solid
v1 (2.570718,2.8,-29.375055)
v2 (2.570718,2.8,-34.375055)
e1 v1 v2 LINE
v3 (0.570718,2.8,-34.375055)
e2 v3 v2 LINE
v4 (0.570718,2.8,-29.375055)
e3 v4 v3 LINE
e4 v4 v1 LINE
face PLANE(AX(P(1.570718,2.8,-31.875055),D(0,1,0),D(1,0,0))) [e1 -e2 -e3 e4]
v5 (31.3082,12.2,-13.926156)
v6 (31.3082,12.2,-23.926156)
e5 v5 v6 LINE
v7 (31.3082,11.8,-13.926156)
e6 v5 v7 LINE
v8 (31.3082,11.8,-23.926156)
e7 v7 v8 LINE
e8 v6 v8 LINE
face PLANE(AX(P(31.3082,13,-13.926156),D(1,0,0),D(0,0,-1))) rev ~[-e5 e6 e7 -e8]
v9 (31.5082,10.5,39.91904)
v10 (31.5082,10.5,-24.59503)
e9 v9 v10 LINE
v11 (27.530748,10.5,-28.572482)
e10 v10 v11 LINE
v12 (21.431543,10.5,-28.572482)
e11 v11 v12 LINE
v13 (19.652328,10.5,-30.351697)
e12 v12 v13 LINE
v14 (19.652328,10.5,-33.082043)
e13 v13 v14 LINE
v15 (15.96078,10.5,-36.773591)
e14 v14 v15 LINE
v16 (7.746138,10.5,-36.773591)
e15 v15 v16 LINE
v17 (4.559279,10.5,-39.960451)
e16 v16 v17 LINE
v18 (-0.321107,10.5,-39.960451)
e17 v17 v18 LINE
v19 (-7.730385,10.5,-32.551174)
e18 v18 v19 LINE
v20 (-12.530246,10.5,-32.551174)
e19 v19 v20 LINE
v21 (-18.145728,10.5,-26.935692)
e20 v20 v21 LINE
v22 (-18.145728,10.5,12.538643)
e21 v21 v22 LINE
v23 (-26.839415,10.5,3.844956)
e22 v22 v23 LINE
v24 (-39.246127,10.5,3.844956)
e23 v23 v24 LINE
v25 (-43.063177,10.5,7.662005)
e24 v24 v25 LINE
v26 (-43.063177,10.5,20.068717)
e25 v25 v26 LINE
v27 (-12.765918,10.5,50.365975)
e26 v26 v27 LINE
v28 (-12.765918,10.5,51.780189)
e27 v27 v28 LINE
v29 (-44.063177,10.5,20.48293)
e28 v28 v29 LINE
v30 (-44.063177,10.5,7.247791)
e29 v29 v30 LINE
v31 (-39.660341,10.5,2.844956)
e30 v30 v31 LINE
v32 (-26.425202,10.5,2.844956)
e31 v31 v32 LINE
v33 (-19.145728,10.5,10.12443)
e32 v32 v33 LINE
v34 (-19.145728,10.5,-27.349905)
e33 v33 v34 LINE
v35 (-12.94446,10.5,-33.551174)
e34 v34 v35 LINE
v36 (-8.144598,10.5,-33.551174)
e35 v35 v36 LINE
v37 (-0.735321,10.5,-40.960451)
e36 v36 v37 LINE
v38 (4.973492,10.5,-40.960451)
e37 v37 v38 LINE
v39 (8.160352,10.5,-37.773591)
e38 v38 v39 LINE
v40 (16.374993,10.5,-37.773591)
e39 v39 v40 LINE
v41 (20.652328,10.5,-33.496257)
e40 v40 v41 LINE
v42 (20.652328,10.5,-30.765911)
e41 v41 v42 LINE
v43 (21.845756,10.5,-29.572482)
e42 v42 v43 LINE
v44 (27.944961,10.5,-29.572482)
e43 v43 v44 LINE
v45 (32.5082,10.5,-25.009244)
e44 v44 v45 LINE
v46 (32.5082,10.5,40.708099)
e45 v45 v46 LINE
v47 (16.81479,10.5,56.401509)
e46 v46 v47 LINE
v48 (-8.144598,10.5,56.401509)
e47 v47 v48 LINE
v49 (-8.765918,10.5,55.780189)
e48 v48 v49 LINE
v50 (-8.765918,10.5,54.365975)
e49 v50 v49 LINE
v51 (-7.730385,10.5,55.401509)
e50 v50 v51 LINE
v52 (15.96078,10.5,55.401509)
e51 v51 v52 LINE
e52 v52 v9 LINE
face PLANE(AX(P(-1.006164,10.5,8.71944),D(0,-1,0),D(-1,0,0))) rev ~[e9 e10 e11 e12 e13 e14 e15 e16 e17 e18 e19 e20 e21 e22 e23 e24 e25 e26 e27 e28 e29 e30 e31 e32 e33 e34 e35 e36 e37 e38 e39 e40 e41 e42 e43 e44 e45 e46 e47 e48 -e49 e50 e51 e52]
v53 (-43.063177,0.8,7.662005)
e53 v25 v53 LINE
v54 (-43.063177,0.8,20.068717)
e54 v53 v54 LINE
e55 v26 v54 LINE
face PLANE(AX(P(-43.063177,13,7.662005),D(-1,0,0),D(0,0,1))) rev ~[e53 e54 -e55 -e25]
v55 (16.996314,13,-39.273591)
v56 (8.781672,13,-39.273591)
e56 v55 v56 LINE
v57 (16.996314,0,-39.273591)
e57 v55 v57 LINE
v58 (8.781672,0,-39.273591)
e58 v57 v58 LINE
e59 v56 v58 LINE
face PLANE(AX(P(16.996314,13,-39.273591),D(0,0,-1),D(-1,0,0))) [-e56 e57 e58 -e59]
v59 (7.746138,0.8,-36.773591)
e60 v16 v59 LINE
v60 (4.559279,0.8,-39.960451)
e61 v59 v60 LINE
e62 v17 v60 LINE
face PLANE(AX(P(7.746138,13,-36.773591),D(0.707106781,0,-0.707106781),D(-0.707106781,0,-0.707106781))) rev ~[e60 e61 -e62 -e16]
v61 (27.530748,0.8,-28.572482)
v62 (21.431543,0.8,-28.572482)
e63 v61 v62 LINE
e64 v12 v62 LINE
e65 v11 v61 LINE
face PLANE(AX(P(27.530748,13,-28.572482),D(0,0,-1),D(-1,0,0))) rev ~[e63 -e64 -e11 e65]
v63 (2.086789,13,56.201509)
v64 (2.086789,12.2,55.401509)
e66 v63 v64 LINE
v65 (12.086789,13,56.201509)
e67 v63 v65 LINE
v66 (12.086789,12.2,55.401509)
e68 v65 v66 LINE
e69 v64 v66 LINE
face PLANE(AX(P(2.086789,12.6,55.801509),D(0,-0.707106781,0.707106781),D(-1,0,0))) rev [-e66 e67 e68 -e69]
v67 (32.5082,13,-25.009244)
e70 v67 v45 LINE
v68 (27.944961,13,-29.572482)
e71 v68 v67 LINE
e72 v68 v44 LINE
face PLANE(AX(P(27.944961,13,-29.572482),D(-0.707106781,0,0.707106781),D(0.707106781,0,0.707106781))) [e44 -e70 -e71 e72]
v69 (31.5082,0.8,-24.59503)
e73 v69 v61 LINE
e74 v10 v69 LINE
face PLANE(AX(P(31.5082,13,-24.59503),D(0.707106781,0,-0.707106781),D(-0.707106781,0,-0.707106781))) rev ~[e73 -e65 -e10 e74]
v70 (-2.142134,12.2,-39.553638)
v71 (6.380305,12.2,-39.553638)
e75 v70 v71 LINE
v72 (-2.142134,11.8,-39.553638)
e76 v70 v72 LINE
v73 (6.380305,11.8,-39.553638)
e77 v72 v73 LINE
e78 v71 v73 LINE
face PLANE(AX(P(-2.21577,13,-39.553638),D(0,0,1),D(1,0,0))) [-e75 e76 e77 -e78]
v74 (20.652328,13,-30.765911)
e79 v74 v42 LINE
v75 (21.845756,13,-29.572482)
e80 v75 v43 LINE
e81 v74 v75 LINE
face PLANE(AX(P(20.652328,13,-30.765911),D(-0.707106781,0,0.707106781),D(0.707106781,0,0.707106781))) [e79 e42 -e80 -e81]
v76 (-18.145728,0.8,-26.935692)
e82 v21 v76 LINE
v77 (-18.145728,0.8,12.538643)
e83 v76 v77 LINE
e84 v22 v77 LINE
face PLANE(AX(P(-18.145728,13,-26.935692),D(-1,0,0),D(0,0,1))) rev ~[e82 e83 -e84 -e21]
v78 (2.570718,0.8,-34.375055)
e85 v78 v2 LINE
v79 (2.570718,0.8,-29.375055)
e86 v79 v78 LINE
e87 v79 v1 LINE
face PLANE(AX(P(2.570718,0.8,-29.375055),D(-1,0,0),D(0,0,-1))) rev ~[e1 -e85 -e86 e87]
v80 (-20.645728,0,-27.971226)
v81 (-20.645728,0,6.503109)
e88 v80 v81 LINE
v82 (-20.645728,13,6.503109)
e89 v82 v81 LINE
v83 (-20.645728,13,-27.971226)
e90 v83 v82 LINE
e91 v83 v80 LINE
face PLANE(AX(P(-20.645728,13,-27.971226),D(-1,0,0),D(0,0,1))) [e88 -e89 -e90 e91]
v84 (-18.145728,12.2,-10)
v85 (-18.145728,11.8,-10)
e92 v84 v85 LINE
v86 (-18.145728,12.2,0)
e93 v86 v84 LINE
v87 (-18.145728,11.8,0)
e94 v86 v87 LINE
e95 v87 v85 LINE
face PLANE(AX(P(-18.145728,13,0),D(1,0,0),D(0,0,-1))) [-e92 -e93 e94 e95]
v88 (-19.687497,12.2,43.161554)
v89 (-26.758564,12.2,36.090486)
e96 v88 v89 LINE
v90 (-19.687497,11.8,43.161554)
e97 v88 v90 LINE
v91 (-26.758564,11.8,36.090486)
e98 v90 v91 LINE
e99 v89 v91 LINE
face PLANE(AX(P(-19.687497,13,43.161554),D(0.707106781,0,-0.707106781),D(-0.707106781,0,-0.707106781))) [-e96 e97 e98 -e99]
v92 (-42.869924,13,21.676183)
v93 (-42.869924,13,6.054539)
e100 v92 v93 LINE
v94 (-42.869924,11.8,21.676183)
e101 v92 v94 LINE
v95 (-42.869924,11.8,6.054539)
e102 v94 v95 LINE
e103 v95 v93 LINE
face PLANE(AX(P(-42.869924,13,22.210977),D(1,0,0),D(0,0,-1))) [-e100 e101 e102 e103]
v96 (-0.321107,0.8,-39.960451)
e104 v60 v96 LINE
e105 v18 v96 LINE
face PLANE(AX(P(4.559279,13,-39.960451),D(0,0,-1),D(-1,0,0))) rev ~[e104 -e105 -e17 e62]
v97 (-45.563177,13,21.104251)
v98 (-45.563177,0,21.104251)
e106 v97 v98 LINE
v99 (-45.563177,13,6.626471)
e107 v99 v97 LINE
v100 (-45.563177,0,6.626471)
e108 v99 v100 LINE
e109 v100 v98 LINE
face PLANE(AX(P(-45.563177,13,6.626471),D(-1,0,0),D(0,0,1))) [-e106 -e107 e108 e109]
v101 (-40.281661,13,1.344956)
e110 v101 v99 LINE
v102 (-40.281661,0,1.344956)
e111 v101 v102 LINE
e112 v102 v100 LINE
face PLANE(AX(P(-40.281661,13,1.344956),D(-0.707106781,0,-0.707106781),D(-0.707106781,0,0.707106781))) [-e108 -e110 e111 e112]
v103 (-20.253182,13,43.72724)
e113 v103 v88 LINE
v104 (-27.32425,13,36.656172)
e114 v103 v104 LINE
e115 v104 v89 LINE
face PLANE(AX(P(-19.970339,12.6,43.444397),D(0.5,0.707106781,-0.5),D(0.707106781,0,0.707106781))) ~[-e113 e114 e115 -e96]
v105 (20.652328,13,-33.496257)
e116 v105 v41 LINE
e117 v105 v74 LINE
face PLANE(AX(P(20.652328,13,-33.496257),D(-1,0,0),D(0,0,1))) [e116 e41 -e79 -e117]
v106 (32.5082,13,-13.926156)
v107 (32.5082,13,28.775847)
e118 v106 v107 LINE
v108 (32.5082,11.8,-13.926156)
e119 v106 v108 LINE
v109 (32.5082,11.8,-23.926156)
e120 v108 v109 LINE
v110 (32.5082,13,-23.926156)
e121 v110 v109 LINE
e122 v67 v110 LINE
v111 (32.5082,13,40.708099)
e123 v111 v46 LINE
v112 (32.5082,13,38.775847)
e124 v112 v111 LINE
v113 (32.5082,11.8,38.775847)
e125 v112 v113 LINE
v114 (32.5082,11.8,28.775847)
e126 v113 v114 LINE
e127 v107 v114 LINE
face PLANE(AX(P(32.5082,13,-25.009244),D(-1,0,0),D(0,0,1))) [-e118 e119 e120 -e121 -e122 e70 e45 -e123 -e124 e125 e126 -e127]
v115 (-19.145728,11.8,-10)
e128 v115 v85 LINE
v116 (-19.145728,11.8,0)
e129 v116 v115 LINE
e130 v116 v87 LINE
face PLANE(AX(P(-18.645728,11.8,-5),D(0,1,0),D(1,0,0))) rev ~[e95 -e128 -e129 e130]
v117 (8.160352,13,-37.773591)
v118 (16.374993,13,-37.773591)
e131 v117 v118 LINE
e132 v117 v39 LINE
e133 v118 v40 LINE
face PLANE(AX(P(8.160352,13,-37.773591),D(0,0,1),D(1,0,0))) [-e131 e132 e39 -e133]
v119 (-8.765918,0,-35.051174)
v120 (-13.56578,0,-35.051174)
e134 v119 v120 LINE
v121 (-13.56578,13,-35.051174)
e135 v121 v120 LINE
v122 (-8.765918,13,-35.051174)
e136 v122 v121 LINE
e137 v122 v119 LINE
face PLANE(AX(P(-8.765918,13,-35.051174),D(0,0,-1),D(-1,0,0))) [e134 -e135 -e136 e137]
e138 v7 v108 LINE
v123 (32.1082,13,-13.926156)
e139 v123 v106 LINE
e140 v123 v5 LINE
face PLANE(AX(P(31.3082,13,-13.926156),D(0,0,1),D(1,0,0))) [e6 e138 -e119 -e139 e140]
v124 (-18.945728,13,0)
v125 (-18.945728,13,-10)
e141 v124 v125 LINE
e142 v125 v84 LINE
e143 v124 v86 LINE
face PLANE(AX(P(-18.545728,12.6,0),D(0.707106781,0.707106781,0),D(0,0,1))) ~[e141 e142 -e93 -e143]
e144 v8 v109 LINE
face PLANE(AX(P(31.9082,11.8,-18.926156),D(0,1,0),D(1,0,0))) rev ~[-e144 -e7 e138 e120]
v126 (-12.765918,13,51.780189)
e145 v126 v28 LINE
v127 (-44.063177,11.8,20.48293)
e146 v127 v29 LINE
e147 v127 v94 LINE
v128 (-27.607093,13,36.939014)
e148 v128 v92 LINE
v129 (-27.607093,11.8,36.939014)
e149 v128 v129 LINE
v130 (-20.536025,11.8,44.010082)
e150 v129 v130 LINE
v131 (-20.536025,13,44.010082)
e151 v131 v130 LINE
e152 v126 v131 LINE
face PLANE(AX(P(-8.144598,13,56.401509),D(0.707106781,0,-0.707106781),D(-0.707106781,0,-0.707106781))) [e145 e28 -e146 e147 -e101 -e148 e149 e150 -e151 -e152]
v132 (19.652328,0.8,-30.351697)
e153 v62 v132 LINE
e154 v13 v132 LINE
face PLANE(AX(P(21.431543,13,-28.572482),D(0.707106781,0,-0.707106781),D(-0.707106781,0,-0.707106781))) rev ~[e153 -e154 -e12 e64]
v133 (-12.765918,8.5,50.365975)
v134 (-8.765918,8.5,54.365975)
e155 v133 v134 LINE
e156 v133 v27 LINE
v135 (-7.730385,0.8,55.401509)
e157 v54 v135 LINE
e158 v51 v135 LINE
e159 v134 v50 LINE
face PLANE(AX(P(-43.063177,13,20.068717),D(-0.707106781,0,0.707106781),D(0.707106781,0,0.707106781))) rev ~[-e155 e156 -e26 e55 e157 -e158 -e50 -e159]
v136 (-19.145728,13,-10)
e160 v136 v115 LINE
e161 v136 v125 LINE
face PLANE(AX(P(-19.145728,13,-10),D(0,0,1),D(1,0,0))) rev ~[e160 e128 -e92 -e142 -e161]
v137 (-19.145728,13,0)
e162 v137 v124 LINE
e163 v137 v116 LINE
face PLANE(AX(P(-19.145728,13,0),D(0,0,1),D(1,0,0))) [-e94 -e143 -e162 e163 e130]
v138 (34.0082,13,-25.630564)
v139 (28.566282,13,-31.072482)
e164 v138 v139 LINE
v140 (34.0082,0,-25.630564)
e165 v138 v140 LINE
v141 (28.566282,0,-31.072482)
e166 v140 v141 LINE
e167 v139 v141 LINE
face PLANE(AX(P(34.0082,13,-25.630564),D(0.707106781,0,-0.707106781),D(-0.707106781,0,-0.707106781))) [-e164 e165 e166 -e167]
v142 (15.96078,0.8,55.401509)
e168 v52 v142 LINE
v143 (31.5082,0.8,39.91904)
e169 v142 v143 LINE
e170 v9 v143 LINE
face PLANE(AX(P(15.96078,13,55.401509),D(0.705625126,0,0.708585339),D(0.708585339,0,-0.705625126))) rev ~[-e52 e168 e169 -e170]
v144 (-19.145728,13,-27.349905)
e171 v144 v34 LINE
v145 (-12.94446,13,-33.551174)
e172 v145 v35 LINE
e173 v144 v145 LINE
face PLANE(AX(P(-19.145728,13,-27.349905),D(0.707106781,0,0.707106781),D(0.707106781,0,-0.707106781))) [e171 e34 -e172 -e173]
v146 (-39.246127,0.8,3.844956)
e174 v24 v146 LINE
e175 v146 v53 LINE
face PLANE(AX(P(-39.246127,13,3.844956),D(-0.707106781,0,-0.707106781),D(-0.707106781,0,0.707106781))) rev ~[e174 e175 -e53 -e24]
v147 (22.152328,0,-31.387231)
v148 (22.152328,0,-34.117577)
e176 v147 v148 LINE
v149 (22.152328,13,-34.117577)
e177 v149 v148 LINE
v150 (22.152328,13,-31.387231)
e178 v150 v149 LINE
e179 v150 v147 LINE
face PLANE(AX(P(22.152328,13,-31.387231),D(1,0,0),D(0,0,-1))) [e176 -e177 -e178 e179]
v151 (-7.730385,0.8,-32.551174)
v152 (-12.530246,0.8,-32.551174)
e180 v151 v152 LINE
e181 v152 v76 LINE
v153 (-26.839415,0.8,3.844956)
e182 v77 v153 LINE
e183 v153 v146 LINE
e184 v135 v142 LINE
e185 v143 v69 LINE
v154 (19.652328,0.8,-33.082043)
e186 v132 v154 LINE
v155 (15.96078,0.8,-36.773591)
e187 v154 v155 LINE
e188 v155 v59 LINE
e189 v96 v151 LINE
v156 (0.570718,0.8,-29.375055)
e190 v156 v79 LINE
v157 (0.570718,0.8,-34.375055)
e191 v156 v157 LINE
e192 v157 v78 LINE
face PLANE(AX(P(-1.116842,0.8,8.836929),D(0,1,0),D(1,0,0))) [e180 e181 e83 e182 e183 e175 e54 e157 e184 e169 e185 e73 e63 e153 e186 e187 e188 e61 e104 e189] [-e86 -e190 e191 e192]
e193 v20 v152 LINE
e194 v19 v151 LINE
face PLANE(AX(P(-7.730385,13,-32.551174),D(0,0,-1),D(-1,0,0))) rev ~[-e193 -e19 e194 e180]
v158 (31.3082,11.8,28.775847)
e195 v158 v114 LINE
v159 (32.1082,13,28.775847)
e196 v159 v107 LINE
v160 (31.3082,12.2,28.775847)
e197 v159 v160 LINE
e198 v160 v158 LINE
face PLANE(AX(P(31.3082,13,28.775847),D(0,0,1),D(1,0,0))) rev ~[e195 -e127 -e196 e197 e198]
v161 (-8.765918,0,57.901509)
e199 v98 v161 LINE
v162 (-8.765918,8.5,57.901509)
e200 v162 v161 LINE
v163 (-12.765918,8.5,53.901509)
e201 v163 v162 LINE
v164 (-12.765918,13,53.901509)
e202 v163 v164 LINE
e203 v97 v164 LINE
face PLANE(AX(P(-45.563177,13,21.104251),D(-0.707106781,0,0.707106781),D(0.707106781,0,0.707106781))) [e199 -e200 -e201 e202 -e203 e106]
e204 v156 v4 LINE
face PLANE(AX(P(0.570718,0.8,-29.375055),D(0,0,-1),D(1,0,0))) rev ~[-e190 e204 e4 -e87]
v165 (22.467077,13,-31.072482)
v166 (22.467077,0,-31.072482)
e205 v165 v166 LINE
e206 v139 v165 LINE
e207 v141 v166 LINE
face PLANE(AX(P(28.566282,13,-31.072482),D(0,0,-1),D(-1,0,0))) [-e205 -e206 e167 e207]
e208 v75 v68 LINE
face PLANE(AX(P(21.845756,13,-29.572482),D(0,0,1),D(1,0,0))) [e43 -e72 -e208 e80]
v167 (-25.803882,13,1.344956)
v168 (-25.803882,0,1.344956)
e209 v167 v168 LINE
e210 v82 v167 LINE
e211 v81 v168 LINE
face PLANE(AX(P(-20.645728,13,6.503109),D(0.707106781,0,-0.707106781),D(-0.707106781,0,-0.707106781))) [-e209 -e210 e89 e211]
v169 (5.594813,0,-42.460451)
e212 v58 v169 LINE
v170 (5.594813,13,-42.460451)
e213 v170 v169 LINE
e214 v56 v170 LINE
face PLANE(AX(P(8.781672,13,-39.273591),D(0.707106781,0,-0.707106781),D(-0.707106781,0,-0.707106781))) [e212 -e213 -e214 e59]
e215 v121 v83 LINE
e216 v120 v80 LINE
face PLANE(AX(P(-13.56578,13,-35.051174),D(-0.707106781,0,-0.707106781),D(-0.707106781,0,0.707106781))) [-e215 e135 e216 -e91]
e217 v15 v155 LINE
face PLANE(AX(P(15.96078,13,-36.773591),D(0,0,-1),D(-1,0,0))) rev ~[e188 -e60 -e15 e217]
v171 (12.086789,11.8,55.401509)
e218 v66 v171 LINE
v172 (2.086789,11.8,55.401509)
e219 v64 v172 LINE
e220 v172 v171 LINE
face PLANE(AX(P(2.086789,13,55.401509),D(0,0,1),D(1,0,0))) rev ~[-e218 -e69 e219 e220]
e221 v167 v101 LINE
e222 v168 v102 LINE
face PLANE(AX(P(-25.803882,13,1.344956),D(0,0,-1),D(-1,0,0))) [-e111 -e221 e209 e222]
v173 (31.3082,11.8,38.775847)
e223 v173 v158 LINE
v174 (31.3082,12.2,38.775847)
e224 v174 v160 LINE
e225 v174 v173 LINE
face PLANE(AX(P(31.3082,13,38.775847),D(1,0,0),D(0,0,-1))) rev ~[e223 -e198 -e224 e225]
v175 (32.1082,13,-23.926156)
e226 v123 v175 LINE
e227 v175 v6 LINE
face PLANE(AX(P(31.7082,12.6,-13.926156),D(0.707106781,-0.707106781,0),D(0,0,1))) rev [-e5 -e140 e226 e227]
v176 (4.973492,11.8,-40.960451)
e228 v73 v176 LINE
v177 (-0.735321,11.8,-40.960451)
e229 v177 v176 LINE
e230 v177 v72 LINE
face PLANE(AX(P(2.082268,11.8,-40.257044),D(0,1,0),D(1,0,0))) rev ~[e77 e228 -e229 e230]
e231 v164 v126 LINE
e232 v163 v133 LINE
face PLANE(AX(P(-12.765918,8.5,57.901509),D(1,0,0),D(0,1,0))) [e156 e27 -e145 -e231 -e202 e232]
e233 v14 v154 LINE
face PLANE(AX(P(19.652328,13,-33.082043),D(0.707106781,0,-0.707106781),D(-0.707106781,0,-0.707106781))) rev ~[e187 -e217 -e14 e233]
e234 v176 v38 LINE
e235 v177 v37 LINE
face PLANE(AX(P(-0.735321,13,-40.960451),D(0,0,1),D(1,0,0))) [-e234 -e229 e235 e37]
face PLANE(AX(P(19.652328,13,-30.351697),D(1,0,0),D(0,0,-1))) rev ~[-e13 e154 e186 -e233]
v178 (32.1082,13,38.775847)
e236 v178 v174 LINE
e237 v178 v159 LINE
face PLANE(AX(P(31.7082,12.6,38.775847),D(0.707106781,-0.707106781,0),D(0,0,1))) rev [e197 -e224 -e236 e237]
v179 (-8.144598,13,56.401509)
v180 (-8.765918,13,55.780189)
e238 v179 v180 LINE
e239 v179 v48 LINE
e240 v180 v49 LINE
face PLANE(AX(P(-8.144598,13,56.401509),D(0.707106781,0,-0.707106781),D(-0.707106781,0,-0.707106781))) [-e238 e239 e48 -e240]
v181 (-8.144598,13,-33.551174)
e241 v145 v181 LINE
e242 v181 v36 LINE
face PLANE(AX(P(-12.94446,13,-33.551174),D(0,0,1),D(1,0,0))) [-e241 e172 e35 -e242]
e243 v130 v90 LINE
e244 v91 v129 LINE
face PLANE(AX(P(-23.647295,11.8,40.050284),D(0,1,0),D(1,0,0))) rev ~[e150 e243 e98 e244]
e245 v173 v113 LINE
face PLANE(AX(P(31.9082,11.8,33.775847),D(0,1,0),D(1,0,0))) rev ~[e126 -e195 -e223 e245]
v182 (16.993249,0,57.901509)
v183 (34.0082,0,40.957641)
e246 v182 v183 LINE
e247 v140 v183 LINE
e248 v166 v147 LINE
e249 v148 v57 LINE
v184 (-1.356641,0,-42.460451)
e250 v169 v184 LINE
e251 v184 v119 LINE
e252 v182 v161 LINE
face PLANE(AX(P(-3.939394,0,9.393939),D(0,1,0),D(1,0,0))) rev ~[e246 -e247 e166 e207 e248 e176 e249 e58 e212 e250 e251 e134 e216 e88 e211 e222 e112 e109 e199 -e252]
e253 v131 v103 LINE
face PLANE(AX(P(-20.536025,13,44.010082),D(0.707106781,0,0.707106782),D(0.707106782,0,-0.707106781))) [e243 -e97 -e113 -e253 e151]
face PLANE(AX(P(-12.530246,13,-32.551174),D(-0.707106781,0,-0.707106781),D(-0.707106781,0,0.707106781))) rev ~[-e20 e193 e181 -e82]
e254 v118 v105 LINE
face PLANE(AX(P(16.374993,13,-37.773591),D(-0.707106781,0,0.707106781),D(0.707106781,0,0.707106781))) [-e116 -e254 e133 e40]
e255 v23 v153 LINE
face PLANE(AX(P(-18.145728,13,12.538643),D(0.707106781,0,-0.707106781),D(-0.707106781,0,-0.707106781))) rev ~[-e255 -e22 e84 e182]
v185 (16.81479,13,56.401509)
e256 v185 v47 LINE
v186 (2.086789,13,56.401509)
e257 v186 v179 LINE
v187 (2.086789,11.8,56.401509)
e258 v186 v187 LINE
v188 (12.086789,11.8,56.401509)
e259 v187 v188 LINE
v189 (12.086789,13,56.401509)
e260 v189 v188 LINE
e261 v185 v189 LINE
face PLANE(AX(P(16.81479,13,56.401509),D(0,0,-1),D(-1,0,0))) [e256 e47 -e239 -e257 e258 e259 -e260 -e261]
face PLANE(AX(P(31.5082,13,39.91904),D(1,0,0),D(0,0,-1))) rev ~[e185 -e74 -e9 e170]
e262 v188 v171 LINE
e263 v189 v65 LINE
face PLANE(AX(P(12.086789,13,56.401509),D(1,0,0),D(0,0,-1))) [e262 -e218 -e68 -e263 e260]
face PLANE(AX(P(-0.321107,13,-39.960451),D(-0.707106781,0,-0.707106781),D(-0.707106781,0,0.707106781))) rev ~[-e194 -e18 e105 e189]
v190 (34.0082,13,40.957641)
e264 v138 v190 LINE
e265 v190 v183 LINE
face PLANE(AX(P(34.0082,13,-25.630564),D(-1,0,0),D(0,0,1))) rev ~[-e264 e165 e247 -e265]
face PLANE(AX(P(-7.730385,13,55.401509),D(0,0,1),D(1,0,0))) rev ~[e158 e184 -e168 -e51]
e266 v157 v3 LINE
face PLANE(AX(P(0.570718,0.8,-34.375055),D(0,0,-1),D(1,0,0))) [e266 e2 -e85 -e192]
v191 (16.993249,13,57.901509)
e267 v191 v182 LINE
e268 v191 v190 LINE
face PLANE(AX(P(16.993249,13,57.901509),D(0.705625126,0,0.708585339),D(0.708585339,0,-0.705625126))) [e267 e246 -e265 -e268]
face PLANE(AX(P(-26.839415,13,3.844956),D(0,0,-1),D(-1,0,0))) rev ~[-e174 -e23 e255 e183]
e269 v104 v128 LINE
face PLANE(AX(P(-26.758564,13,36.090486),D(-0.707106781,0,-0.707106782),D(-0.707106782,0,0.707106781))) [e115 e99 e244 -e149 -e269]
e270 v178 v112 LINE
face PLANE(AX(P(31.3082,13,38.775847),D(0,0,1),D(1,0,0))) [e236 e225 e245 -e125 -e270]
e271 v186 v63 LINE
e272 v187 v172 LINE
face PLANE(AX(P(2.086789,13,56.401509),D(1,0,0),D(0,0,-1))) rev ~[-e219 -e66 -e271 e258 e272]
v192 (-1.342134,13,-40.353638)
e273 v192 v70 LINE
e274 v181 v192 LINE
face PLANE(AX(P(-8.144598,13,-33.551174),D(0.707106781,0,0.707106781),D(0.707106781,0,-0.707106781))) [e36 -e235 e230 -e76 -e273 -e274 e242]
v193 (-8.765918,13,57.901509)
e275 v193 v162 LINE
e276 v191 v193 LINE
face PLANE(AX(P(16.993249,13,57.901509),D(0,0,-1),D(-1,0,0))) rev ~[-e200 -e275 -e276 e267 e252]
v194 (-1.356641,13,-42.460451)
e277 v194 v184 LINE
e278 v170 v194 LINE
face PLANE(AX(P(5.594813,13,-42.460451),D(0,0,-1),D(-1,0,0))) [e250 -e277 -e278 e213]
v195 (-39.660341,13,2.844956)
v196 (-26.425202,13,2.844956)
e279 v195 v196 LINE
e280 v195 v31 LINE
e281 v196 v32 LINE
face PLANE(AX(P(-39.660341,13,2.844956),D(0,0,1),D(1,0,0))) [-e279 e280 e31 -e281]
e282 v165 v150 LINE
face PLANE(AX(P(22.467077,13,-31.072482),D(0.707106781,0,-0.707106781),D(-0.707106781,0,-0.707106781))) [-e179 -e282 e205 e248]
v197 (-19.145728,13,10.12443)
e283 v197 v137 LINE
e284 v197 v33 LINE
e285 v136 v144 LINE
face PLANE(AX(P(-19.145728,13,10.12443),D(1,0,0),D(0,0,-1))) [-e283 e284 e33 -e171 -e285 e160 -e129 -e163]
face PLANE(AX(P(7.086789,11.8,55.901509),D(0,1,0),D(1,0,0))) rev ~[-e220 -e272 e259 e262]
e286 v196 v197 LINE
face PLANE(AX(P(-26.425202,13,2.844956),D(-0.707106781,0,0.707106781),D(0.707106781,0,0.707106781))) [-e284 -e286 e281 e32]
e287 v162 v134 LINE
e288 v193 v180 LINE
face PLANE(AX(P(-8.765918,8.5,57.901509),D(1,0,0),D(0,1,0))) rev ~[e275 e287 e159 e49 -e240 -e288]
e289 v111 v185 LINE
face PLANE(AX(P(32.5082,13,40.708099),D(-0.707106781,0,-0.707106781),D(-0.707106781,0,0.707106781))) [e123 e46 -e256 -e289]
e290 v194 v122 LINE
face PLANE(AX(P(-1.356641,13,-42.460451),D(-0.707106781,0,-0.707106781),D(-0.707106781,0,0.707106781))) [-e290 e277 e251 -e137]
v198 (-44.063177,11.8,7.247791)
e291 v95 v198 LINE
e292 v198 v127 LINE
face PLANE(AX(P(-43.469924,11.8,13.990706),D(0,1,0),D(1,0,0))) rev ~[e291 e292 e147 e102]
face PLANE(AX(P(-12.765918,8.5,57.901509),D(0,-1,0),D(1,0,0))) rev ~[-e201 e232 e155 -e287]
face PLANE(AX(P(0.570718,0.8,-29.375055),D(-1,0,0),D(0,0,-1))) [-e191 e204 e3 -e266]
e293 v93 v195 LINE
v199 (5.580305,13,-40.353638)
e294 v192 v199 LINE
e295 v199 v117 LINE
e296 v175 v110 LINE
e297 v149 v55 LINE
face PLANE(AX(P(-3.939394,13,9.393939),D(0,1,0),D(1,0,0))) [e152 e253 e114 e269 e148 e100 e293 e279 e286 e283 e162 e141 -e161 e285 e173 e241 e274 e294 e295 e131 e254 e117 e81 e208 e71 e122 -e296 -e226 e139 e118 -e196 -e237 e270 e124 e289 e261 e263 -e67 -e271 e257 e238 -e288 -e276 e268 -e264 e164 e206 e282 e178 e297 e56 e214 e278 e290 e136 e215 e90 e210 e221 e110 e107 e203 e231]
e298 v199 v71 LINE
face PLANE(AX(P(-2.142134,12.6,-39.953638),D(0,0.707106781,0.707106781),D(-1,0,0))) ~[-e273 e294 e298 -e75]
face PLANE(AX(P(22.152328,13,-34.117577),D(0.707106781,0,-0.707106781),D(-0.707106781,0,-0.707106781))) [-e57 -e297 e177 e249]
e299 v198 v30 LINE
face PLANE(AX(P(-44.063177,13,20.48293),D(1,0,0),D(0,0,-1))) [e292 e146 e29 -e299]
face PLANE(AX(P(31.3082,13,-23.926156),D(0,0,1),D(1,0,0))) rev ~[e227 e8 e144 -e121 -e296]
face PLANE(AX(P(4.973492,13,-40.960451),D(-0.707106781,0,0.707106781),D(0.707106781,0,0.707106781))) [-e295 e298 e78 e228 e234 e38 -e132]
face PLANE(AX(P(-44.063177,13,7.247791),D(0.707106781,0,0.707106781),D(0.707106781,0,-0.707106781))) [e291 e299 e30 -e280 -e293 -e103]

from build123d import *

# Parameters (mm, degrees)
ESBO_O1_W                = 100
ESBO_O1_H                = 120
RESSALTO_EXTRUS_O1_DEPTH = 13
CORTE_EXTRUS_O1_DEPTH    = 12.2
ESBO_O5_W                = 100
ESBO_O5_H                = 120
CORTE_EXTRUS_O2_DEPTH    = 24
CORTE_EXTRUS_O3_DEPTH    = 2.5
ESBO_O7_W                = 1
ESBO_O7_H                = 10
ESBO_O7_W_2              = 1.2
ESBO_O7_W_3              = 10
ESBO_O7_H_2              = 1
ESBO_O7_H_3              = 16.4405419
ESBO_O7_W_4              = 8.5960749
ESBO_O7_H_4              = 1.406812791
RESSALTO_EXTRUS_O2_DEPTH = 1.2
ESBO_O8_W                = 4
ESBO_O8_H                = 4.5
CORTE_EXTRUS_O4_DEPTH    = 10
ESBO_O9_W                = 2
ESBO_O9_H                = 5
RESSALTO_EXTRUS_O3_DEPTH = 2
CHANFRO1_SIZE            = 0.8


with BuildPart() as part:
    # Esboço1 → Ressalto-extrusão1 (new body)
    with BuildSketch(Plane(origin=(0, 0, 0), x_dir=(1, 0, 0), z_dir=(0, 1, 0))):
        with Locations((-3.939393939, -9.393939394)):
            Rectangle(ESBO_O1_W, ESBO_O1_H)
    extrude(amount=RESSALTO_EXTRUS_O1_DEPTH)

    # Esboço2 → Corte-extrusão1 (cut)
    with BuildSketch(Plane(origin=(0, 13, 0), x_dir=(1, 0, 0), z_dir=(0, 1, 0))):
        Polygon((31.508199898, -39.9190402), (31.508199898, 24.595030164), (27.530747921, 28.572482141), (21.431542719, 28.572482141), (19.652327636, 30.351697224), (19.652327636, 33.082043063), (15.960779613, 36.773591087), (7.746138477, 36.773591087), (4.559278928, 39.960450636), (-0.321107452, 39.960450636), (-7.730384523, 32.551173564), (-12.530246006, 32.551173564), (-18.145727819, 26.935691751), (-18.145727819, -12.538643207), (-26.839415482, -3.844955544), (-39.246127252, -3.844955544), (-43.063176727, -7.662005018), (-43.063176727, -20.068716788), (-7.730384523, -55.401508991), (15.960779613, -55.401508991), align=None)
    extrude(amount=-CORTE_EXTRUS_O1_DEPTH, mode=Mode.SUBTRACT)

    # Esboço5 → Corte-extrusão2 (cut)
    with BuildSketch(Plane(origin=(0, 13, 0), x_dir=(1, 0, 0), z_dir=(0, 1, 0))):
        with Locations((-3.939393939, -9.393939394)):
            Rectangle(ESBO_O5_W, ESBO_O5_H)
        Polygon((34.008199898, 16.264683084), (34.008199898, 25.63056407), (28.566281827, 31.072482141), (22.467076625, 31.072482141), (22.152327636, 31.38723113), (22.152327636, 34.117576969), (16.996313518, 39.273591087), (8.781672383, 39.273591087), (5.594812834, 42.460450636), (-1.356641358, 42.460450636), (-8.765918429, 35.051173564), (-13.565779912, 35.051173564), (-20.645727819, 27.971225657), (-20.645727819, -6.503109301), (-25.803881576, -1.344955544), (-40.281661158, -1.344955544), (-45.563176727, -6.626471112), (-45.563176727, -21.104250694), (-8.765918429, -57.901508991), (9.20558363, -57.901508991), (16.993249442, -57.901508991), (34.008199898, -40.95764084), align=None, mode=Mode.SUBTRACT)
    extrude(amount=-CORTE_EXTRUS_O2_DEPTH, mode=Mode.SUBTRACT)

    # Esboço6 → Corte-extrusão3 (cut)
    with BuildSketch(Plane(origin=(0, 13, 0), x_dir=(1, 0, 0), z_dir=(0, 1, 0))):
        Polygon((-26.42520192, -2.844955544), (-19.145727819, -10.124429645), (-19.145727819, 27.349905314), (-12.944459568, 33.551173564), (-8.144598086, 33.551173564), (-0.735321014, 40.960450636), (4.97349249, 40.960450636), (8.160352039, 37.773591087), (16.374993175, 37.773591087), (20.652327636, 33.496256625), (20.652327636, 30.765910786), (21.845756281, 29.572482141), (27.944961483, 29.572482141), (32.508199898, 25.009243726), (32.508199898, -40.708099195), (16.814790102, -56.401508991), (-8.144598086, -56.401508991), (-44.063176727, -20.48293035), (-44.063176727, -7.247791456), (-39.660340814, -2.844955544), align=None)
    extrude(amount=-CORTE_EXTRUS_O3_DEPTH, mode=Mode.SUBTRACT)

    # Esboço7 → Ressalto-extrusão2 (add)
    with BuildSketch(Plane(origin=(0, 13, 0), x_dir=(1, 0, 0), z_dir=(0, 1, 0))):
        with Locations((-18.645727819, 5)):
            Rectangle(ESBO_O7_W, ESBO_O7_H)
        with Locations((31.908199898, -33.775847323)):
            Rectangle(ESBO_O7_W_2, ESBO_O7_H)
        with Locations((31.908199898, 18.926155897)):
            Rectangle(ESBO_O7_W_2, ESBO_O7_H)
        with Locations((7.086788937, -55.901508991)):
            Rectangle(ESBO_O7_W_3, ESBO_O7_H_2)
        with Locations((-43.469924349, -13.990706428)):
            Rectangle(ESBO_O7_W_2, ESBO_O7_H_3)
        Polygon((-27.607092583, -36.939014494), (-20.536024771, -44.010082306), (-19.687496633, -43.161554169), (-26.758564445, -36.090486357), align=None)
        with Locations((2.082267831, 40.257044241)):
            Rectangle(ESBO_O7_W_4, ESBO_O7_H_4)
    extrude(amount=-RESSALTO_EXTRUS_O2_DEPTH)

    # Esboço8 → Corte-extrusão4 (cut)
    with BuildSketch(Plane.XY.offset(57.901508991)):
        with Locations((-10.765918429, 10.75)):
            Rectangle(ESBO_O8_W, ESBO_O8_H)
    extrude(amount=-CORTE_EXTRUS_O4_DEPTH, mode=Mode.SUBTRACT)

    # Esboço9 → Ressalto-extrusão3 (add)
    with BuildSketch(Plane(origin=(0, 0.8, 0), x_dir=(1, 0, 0), z_dir=(0, 1, 0))):
        with Locations((1.570718191, 31.875055196)):
            Rectangle(ESBO_O9_W, ESBO_O9_H)
    extrude(amount=RESSALTO_EXTRUS_O3_DEPTH)

    # Chanfro1
    chanfro1_edges = [part.edges().sort_by_distance(p)[0] for p in [
        (-18.145727819, 13, -5),
        (7.086788937, 13, 55.401508991),
        (31.308199898, 13, 33.775847323),
        (-23.223030539, 13, 39.626020263),
        (2.119085738, 13, -39.553637845),
        (31.308199898, 13, -18.926155897),
    ]]
    chamfer(chanfro1_edges, length=CHANFRO1_SIZE)


solid = part.part
